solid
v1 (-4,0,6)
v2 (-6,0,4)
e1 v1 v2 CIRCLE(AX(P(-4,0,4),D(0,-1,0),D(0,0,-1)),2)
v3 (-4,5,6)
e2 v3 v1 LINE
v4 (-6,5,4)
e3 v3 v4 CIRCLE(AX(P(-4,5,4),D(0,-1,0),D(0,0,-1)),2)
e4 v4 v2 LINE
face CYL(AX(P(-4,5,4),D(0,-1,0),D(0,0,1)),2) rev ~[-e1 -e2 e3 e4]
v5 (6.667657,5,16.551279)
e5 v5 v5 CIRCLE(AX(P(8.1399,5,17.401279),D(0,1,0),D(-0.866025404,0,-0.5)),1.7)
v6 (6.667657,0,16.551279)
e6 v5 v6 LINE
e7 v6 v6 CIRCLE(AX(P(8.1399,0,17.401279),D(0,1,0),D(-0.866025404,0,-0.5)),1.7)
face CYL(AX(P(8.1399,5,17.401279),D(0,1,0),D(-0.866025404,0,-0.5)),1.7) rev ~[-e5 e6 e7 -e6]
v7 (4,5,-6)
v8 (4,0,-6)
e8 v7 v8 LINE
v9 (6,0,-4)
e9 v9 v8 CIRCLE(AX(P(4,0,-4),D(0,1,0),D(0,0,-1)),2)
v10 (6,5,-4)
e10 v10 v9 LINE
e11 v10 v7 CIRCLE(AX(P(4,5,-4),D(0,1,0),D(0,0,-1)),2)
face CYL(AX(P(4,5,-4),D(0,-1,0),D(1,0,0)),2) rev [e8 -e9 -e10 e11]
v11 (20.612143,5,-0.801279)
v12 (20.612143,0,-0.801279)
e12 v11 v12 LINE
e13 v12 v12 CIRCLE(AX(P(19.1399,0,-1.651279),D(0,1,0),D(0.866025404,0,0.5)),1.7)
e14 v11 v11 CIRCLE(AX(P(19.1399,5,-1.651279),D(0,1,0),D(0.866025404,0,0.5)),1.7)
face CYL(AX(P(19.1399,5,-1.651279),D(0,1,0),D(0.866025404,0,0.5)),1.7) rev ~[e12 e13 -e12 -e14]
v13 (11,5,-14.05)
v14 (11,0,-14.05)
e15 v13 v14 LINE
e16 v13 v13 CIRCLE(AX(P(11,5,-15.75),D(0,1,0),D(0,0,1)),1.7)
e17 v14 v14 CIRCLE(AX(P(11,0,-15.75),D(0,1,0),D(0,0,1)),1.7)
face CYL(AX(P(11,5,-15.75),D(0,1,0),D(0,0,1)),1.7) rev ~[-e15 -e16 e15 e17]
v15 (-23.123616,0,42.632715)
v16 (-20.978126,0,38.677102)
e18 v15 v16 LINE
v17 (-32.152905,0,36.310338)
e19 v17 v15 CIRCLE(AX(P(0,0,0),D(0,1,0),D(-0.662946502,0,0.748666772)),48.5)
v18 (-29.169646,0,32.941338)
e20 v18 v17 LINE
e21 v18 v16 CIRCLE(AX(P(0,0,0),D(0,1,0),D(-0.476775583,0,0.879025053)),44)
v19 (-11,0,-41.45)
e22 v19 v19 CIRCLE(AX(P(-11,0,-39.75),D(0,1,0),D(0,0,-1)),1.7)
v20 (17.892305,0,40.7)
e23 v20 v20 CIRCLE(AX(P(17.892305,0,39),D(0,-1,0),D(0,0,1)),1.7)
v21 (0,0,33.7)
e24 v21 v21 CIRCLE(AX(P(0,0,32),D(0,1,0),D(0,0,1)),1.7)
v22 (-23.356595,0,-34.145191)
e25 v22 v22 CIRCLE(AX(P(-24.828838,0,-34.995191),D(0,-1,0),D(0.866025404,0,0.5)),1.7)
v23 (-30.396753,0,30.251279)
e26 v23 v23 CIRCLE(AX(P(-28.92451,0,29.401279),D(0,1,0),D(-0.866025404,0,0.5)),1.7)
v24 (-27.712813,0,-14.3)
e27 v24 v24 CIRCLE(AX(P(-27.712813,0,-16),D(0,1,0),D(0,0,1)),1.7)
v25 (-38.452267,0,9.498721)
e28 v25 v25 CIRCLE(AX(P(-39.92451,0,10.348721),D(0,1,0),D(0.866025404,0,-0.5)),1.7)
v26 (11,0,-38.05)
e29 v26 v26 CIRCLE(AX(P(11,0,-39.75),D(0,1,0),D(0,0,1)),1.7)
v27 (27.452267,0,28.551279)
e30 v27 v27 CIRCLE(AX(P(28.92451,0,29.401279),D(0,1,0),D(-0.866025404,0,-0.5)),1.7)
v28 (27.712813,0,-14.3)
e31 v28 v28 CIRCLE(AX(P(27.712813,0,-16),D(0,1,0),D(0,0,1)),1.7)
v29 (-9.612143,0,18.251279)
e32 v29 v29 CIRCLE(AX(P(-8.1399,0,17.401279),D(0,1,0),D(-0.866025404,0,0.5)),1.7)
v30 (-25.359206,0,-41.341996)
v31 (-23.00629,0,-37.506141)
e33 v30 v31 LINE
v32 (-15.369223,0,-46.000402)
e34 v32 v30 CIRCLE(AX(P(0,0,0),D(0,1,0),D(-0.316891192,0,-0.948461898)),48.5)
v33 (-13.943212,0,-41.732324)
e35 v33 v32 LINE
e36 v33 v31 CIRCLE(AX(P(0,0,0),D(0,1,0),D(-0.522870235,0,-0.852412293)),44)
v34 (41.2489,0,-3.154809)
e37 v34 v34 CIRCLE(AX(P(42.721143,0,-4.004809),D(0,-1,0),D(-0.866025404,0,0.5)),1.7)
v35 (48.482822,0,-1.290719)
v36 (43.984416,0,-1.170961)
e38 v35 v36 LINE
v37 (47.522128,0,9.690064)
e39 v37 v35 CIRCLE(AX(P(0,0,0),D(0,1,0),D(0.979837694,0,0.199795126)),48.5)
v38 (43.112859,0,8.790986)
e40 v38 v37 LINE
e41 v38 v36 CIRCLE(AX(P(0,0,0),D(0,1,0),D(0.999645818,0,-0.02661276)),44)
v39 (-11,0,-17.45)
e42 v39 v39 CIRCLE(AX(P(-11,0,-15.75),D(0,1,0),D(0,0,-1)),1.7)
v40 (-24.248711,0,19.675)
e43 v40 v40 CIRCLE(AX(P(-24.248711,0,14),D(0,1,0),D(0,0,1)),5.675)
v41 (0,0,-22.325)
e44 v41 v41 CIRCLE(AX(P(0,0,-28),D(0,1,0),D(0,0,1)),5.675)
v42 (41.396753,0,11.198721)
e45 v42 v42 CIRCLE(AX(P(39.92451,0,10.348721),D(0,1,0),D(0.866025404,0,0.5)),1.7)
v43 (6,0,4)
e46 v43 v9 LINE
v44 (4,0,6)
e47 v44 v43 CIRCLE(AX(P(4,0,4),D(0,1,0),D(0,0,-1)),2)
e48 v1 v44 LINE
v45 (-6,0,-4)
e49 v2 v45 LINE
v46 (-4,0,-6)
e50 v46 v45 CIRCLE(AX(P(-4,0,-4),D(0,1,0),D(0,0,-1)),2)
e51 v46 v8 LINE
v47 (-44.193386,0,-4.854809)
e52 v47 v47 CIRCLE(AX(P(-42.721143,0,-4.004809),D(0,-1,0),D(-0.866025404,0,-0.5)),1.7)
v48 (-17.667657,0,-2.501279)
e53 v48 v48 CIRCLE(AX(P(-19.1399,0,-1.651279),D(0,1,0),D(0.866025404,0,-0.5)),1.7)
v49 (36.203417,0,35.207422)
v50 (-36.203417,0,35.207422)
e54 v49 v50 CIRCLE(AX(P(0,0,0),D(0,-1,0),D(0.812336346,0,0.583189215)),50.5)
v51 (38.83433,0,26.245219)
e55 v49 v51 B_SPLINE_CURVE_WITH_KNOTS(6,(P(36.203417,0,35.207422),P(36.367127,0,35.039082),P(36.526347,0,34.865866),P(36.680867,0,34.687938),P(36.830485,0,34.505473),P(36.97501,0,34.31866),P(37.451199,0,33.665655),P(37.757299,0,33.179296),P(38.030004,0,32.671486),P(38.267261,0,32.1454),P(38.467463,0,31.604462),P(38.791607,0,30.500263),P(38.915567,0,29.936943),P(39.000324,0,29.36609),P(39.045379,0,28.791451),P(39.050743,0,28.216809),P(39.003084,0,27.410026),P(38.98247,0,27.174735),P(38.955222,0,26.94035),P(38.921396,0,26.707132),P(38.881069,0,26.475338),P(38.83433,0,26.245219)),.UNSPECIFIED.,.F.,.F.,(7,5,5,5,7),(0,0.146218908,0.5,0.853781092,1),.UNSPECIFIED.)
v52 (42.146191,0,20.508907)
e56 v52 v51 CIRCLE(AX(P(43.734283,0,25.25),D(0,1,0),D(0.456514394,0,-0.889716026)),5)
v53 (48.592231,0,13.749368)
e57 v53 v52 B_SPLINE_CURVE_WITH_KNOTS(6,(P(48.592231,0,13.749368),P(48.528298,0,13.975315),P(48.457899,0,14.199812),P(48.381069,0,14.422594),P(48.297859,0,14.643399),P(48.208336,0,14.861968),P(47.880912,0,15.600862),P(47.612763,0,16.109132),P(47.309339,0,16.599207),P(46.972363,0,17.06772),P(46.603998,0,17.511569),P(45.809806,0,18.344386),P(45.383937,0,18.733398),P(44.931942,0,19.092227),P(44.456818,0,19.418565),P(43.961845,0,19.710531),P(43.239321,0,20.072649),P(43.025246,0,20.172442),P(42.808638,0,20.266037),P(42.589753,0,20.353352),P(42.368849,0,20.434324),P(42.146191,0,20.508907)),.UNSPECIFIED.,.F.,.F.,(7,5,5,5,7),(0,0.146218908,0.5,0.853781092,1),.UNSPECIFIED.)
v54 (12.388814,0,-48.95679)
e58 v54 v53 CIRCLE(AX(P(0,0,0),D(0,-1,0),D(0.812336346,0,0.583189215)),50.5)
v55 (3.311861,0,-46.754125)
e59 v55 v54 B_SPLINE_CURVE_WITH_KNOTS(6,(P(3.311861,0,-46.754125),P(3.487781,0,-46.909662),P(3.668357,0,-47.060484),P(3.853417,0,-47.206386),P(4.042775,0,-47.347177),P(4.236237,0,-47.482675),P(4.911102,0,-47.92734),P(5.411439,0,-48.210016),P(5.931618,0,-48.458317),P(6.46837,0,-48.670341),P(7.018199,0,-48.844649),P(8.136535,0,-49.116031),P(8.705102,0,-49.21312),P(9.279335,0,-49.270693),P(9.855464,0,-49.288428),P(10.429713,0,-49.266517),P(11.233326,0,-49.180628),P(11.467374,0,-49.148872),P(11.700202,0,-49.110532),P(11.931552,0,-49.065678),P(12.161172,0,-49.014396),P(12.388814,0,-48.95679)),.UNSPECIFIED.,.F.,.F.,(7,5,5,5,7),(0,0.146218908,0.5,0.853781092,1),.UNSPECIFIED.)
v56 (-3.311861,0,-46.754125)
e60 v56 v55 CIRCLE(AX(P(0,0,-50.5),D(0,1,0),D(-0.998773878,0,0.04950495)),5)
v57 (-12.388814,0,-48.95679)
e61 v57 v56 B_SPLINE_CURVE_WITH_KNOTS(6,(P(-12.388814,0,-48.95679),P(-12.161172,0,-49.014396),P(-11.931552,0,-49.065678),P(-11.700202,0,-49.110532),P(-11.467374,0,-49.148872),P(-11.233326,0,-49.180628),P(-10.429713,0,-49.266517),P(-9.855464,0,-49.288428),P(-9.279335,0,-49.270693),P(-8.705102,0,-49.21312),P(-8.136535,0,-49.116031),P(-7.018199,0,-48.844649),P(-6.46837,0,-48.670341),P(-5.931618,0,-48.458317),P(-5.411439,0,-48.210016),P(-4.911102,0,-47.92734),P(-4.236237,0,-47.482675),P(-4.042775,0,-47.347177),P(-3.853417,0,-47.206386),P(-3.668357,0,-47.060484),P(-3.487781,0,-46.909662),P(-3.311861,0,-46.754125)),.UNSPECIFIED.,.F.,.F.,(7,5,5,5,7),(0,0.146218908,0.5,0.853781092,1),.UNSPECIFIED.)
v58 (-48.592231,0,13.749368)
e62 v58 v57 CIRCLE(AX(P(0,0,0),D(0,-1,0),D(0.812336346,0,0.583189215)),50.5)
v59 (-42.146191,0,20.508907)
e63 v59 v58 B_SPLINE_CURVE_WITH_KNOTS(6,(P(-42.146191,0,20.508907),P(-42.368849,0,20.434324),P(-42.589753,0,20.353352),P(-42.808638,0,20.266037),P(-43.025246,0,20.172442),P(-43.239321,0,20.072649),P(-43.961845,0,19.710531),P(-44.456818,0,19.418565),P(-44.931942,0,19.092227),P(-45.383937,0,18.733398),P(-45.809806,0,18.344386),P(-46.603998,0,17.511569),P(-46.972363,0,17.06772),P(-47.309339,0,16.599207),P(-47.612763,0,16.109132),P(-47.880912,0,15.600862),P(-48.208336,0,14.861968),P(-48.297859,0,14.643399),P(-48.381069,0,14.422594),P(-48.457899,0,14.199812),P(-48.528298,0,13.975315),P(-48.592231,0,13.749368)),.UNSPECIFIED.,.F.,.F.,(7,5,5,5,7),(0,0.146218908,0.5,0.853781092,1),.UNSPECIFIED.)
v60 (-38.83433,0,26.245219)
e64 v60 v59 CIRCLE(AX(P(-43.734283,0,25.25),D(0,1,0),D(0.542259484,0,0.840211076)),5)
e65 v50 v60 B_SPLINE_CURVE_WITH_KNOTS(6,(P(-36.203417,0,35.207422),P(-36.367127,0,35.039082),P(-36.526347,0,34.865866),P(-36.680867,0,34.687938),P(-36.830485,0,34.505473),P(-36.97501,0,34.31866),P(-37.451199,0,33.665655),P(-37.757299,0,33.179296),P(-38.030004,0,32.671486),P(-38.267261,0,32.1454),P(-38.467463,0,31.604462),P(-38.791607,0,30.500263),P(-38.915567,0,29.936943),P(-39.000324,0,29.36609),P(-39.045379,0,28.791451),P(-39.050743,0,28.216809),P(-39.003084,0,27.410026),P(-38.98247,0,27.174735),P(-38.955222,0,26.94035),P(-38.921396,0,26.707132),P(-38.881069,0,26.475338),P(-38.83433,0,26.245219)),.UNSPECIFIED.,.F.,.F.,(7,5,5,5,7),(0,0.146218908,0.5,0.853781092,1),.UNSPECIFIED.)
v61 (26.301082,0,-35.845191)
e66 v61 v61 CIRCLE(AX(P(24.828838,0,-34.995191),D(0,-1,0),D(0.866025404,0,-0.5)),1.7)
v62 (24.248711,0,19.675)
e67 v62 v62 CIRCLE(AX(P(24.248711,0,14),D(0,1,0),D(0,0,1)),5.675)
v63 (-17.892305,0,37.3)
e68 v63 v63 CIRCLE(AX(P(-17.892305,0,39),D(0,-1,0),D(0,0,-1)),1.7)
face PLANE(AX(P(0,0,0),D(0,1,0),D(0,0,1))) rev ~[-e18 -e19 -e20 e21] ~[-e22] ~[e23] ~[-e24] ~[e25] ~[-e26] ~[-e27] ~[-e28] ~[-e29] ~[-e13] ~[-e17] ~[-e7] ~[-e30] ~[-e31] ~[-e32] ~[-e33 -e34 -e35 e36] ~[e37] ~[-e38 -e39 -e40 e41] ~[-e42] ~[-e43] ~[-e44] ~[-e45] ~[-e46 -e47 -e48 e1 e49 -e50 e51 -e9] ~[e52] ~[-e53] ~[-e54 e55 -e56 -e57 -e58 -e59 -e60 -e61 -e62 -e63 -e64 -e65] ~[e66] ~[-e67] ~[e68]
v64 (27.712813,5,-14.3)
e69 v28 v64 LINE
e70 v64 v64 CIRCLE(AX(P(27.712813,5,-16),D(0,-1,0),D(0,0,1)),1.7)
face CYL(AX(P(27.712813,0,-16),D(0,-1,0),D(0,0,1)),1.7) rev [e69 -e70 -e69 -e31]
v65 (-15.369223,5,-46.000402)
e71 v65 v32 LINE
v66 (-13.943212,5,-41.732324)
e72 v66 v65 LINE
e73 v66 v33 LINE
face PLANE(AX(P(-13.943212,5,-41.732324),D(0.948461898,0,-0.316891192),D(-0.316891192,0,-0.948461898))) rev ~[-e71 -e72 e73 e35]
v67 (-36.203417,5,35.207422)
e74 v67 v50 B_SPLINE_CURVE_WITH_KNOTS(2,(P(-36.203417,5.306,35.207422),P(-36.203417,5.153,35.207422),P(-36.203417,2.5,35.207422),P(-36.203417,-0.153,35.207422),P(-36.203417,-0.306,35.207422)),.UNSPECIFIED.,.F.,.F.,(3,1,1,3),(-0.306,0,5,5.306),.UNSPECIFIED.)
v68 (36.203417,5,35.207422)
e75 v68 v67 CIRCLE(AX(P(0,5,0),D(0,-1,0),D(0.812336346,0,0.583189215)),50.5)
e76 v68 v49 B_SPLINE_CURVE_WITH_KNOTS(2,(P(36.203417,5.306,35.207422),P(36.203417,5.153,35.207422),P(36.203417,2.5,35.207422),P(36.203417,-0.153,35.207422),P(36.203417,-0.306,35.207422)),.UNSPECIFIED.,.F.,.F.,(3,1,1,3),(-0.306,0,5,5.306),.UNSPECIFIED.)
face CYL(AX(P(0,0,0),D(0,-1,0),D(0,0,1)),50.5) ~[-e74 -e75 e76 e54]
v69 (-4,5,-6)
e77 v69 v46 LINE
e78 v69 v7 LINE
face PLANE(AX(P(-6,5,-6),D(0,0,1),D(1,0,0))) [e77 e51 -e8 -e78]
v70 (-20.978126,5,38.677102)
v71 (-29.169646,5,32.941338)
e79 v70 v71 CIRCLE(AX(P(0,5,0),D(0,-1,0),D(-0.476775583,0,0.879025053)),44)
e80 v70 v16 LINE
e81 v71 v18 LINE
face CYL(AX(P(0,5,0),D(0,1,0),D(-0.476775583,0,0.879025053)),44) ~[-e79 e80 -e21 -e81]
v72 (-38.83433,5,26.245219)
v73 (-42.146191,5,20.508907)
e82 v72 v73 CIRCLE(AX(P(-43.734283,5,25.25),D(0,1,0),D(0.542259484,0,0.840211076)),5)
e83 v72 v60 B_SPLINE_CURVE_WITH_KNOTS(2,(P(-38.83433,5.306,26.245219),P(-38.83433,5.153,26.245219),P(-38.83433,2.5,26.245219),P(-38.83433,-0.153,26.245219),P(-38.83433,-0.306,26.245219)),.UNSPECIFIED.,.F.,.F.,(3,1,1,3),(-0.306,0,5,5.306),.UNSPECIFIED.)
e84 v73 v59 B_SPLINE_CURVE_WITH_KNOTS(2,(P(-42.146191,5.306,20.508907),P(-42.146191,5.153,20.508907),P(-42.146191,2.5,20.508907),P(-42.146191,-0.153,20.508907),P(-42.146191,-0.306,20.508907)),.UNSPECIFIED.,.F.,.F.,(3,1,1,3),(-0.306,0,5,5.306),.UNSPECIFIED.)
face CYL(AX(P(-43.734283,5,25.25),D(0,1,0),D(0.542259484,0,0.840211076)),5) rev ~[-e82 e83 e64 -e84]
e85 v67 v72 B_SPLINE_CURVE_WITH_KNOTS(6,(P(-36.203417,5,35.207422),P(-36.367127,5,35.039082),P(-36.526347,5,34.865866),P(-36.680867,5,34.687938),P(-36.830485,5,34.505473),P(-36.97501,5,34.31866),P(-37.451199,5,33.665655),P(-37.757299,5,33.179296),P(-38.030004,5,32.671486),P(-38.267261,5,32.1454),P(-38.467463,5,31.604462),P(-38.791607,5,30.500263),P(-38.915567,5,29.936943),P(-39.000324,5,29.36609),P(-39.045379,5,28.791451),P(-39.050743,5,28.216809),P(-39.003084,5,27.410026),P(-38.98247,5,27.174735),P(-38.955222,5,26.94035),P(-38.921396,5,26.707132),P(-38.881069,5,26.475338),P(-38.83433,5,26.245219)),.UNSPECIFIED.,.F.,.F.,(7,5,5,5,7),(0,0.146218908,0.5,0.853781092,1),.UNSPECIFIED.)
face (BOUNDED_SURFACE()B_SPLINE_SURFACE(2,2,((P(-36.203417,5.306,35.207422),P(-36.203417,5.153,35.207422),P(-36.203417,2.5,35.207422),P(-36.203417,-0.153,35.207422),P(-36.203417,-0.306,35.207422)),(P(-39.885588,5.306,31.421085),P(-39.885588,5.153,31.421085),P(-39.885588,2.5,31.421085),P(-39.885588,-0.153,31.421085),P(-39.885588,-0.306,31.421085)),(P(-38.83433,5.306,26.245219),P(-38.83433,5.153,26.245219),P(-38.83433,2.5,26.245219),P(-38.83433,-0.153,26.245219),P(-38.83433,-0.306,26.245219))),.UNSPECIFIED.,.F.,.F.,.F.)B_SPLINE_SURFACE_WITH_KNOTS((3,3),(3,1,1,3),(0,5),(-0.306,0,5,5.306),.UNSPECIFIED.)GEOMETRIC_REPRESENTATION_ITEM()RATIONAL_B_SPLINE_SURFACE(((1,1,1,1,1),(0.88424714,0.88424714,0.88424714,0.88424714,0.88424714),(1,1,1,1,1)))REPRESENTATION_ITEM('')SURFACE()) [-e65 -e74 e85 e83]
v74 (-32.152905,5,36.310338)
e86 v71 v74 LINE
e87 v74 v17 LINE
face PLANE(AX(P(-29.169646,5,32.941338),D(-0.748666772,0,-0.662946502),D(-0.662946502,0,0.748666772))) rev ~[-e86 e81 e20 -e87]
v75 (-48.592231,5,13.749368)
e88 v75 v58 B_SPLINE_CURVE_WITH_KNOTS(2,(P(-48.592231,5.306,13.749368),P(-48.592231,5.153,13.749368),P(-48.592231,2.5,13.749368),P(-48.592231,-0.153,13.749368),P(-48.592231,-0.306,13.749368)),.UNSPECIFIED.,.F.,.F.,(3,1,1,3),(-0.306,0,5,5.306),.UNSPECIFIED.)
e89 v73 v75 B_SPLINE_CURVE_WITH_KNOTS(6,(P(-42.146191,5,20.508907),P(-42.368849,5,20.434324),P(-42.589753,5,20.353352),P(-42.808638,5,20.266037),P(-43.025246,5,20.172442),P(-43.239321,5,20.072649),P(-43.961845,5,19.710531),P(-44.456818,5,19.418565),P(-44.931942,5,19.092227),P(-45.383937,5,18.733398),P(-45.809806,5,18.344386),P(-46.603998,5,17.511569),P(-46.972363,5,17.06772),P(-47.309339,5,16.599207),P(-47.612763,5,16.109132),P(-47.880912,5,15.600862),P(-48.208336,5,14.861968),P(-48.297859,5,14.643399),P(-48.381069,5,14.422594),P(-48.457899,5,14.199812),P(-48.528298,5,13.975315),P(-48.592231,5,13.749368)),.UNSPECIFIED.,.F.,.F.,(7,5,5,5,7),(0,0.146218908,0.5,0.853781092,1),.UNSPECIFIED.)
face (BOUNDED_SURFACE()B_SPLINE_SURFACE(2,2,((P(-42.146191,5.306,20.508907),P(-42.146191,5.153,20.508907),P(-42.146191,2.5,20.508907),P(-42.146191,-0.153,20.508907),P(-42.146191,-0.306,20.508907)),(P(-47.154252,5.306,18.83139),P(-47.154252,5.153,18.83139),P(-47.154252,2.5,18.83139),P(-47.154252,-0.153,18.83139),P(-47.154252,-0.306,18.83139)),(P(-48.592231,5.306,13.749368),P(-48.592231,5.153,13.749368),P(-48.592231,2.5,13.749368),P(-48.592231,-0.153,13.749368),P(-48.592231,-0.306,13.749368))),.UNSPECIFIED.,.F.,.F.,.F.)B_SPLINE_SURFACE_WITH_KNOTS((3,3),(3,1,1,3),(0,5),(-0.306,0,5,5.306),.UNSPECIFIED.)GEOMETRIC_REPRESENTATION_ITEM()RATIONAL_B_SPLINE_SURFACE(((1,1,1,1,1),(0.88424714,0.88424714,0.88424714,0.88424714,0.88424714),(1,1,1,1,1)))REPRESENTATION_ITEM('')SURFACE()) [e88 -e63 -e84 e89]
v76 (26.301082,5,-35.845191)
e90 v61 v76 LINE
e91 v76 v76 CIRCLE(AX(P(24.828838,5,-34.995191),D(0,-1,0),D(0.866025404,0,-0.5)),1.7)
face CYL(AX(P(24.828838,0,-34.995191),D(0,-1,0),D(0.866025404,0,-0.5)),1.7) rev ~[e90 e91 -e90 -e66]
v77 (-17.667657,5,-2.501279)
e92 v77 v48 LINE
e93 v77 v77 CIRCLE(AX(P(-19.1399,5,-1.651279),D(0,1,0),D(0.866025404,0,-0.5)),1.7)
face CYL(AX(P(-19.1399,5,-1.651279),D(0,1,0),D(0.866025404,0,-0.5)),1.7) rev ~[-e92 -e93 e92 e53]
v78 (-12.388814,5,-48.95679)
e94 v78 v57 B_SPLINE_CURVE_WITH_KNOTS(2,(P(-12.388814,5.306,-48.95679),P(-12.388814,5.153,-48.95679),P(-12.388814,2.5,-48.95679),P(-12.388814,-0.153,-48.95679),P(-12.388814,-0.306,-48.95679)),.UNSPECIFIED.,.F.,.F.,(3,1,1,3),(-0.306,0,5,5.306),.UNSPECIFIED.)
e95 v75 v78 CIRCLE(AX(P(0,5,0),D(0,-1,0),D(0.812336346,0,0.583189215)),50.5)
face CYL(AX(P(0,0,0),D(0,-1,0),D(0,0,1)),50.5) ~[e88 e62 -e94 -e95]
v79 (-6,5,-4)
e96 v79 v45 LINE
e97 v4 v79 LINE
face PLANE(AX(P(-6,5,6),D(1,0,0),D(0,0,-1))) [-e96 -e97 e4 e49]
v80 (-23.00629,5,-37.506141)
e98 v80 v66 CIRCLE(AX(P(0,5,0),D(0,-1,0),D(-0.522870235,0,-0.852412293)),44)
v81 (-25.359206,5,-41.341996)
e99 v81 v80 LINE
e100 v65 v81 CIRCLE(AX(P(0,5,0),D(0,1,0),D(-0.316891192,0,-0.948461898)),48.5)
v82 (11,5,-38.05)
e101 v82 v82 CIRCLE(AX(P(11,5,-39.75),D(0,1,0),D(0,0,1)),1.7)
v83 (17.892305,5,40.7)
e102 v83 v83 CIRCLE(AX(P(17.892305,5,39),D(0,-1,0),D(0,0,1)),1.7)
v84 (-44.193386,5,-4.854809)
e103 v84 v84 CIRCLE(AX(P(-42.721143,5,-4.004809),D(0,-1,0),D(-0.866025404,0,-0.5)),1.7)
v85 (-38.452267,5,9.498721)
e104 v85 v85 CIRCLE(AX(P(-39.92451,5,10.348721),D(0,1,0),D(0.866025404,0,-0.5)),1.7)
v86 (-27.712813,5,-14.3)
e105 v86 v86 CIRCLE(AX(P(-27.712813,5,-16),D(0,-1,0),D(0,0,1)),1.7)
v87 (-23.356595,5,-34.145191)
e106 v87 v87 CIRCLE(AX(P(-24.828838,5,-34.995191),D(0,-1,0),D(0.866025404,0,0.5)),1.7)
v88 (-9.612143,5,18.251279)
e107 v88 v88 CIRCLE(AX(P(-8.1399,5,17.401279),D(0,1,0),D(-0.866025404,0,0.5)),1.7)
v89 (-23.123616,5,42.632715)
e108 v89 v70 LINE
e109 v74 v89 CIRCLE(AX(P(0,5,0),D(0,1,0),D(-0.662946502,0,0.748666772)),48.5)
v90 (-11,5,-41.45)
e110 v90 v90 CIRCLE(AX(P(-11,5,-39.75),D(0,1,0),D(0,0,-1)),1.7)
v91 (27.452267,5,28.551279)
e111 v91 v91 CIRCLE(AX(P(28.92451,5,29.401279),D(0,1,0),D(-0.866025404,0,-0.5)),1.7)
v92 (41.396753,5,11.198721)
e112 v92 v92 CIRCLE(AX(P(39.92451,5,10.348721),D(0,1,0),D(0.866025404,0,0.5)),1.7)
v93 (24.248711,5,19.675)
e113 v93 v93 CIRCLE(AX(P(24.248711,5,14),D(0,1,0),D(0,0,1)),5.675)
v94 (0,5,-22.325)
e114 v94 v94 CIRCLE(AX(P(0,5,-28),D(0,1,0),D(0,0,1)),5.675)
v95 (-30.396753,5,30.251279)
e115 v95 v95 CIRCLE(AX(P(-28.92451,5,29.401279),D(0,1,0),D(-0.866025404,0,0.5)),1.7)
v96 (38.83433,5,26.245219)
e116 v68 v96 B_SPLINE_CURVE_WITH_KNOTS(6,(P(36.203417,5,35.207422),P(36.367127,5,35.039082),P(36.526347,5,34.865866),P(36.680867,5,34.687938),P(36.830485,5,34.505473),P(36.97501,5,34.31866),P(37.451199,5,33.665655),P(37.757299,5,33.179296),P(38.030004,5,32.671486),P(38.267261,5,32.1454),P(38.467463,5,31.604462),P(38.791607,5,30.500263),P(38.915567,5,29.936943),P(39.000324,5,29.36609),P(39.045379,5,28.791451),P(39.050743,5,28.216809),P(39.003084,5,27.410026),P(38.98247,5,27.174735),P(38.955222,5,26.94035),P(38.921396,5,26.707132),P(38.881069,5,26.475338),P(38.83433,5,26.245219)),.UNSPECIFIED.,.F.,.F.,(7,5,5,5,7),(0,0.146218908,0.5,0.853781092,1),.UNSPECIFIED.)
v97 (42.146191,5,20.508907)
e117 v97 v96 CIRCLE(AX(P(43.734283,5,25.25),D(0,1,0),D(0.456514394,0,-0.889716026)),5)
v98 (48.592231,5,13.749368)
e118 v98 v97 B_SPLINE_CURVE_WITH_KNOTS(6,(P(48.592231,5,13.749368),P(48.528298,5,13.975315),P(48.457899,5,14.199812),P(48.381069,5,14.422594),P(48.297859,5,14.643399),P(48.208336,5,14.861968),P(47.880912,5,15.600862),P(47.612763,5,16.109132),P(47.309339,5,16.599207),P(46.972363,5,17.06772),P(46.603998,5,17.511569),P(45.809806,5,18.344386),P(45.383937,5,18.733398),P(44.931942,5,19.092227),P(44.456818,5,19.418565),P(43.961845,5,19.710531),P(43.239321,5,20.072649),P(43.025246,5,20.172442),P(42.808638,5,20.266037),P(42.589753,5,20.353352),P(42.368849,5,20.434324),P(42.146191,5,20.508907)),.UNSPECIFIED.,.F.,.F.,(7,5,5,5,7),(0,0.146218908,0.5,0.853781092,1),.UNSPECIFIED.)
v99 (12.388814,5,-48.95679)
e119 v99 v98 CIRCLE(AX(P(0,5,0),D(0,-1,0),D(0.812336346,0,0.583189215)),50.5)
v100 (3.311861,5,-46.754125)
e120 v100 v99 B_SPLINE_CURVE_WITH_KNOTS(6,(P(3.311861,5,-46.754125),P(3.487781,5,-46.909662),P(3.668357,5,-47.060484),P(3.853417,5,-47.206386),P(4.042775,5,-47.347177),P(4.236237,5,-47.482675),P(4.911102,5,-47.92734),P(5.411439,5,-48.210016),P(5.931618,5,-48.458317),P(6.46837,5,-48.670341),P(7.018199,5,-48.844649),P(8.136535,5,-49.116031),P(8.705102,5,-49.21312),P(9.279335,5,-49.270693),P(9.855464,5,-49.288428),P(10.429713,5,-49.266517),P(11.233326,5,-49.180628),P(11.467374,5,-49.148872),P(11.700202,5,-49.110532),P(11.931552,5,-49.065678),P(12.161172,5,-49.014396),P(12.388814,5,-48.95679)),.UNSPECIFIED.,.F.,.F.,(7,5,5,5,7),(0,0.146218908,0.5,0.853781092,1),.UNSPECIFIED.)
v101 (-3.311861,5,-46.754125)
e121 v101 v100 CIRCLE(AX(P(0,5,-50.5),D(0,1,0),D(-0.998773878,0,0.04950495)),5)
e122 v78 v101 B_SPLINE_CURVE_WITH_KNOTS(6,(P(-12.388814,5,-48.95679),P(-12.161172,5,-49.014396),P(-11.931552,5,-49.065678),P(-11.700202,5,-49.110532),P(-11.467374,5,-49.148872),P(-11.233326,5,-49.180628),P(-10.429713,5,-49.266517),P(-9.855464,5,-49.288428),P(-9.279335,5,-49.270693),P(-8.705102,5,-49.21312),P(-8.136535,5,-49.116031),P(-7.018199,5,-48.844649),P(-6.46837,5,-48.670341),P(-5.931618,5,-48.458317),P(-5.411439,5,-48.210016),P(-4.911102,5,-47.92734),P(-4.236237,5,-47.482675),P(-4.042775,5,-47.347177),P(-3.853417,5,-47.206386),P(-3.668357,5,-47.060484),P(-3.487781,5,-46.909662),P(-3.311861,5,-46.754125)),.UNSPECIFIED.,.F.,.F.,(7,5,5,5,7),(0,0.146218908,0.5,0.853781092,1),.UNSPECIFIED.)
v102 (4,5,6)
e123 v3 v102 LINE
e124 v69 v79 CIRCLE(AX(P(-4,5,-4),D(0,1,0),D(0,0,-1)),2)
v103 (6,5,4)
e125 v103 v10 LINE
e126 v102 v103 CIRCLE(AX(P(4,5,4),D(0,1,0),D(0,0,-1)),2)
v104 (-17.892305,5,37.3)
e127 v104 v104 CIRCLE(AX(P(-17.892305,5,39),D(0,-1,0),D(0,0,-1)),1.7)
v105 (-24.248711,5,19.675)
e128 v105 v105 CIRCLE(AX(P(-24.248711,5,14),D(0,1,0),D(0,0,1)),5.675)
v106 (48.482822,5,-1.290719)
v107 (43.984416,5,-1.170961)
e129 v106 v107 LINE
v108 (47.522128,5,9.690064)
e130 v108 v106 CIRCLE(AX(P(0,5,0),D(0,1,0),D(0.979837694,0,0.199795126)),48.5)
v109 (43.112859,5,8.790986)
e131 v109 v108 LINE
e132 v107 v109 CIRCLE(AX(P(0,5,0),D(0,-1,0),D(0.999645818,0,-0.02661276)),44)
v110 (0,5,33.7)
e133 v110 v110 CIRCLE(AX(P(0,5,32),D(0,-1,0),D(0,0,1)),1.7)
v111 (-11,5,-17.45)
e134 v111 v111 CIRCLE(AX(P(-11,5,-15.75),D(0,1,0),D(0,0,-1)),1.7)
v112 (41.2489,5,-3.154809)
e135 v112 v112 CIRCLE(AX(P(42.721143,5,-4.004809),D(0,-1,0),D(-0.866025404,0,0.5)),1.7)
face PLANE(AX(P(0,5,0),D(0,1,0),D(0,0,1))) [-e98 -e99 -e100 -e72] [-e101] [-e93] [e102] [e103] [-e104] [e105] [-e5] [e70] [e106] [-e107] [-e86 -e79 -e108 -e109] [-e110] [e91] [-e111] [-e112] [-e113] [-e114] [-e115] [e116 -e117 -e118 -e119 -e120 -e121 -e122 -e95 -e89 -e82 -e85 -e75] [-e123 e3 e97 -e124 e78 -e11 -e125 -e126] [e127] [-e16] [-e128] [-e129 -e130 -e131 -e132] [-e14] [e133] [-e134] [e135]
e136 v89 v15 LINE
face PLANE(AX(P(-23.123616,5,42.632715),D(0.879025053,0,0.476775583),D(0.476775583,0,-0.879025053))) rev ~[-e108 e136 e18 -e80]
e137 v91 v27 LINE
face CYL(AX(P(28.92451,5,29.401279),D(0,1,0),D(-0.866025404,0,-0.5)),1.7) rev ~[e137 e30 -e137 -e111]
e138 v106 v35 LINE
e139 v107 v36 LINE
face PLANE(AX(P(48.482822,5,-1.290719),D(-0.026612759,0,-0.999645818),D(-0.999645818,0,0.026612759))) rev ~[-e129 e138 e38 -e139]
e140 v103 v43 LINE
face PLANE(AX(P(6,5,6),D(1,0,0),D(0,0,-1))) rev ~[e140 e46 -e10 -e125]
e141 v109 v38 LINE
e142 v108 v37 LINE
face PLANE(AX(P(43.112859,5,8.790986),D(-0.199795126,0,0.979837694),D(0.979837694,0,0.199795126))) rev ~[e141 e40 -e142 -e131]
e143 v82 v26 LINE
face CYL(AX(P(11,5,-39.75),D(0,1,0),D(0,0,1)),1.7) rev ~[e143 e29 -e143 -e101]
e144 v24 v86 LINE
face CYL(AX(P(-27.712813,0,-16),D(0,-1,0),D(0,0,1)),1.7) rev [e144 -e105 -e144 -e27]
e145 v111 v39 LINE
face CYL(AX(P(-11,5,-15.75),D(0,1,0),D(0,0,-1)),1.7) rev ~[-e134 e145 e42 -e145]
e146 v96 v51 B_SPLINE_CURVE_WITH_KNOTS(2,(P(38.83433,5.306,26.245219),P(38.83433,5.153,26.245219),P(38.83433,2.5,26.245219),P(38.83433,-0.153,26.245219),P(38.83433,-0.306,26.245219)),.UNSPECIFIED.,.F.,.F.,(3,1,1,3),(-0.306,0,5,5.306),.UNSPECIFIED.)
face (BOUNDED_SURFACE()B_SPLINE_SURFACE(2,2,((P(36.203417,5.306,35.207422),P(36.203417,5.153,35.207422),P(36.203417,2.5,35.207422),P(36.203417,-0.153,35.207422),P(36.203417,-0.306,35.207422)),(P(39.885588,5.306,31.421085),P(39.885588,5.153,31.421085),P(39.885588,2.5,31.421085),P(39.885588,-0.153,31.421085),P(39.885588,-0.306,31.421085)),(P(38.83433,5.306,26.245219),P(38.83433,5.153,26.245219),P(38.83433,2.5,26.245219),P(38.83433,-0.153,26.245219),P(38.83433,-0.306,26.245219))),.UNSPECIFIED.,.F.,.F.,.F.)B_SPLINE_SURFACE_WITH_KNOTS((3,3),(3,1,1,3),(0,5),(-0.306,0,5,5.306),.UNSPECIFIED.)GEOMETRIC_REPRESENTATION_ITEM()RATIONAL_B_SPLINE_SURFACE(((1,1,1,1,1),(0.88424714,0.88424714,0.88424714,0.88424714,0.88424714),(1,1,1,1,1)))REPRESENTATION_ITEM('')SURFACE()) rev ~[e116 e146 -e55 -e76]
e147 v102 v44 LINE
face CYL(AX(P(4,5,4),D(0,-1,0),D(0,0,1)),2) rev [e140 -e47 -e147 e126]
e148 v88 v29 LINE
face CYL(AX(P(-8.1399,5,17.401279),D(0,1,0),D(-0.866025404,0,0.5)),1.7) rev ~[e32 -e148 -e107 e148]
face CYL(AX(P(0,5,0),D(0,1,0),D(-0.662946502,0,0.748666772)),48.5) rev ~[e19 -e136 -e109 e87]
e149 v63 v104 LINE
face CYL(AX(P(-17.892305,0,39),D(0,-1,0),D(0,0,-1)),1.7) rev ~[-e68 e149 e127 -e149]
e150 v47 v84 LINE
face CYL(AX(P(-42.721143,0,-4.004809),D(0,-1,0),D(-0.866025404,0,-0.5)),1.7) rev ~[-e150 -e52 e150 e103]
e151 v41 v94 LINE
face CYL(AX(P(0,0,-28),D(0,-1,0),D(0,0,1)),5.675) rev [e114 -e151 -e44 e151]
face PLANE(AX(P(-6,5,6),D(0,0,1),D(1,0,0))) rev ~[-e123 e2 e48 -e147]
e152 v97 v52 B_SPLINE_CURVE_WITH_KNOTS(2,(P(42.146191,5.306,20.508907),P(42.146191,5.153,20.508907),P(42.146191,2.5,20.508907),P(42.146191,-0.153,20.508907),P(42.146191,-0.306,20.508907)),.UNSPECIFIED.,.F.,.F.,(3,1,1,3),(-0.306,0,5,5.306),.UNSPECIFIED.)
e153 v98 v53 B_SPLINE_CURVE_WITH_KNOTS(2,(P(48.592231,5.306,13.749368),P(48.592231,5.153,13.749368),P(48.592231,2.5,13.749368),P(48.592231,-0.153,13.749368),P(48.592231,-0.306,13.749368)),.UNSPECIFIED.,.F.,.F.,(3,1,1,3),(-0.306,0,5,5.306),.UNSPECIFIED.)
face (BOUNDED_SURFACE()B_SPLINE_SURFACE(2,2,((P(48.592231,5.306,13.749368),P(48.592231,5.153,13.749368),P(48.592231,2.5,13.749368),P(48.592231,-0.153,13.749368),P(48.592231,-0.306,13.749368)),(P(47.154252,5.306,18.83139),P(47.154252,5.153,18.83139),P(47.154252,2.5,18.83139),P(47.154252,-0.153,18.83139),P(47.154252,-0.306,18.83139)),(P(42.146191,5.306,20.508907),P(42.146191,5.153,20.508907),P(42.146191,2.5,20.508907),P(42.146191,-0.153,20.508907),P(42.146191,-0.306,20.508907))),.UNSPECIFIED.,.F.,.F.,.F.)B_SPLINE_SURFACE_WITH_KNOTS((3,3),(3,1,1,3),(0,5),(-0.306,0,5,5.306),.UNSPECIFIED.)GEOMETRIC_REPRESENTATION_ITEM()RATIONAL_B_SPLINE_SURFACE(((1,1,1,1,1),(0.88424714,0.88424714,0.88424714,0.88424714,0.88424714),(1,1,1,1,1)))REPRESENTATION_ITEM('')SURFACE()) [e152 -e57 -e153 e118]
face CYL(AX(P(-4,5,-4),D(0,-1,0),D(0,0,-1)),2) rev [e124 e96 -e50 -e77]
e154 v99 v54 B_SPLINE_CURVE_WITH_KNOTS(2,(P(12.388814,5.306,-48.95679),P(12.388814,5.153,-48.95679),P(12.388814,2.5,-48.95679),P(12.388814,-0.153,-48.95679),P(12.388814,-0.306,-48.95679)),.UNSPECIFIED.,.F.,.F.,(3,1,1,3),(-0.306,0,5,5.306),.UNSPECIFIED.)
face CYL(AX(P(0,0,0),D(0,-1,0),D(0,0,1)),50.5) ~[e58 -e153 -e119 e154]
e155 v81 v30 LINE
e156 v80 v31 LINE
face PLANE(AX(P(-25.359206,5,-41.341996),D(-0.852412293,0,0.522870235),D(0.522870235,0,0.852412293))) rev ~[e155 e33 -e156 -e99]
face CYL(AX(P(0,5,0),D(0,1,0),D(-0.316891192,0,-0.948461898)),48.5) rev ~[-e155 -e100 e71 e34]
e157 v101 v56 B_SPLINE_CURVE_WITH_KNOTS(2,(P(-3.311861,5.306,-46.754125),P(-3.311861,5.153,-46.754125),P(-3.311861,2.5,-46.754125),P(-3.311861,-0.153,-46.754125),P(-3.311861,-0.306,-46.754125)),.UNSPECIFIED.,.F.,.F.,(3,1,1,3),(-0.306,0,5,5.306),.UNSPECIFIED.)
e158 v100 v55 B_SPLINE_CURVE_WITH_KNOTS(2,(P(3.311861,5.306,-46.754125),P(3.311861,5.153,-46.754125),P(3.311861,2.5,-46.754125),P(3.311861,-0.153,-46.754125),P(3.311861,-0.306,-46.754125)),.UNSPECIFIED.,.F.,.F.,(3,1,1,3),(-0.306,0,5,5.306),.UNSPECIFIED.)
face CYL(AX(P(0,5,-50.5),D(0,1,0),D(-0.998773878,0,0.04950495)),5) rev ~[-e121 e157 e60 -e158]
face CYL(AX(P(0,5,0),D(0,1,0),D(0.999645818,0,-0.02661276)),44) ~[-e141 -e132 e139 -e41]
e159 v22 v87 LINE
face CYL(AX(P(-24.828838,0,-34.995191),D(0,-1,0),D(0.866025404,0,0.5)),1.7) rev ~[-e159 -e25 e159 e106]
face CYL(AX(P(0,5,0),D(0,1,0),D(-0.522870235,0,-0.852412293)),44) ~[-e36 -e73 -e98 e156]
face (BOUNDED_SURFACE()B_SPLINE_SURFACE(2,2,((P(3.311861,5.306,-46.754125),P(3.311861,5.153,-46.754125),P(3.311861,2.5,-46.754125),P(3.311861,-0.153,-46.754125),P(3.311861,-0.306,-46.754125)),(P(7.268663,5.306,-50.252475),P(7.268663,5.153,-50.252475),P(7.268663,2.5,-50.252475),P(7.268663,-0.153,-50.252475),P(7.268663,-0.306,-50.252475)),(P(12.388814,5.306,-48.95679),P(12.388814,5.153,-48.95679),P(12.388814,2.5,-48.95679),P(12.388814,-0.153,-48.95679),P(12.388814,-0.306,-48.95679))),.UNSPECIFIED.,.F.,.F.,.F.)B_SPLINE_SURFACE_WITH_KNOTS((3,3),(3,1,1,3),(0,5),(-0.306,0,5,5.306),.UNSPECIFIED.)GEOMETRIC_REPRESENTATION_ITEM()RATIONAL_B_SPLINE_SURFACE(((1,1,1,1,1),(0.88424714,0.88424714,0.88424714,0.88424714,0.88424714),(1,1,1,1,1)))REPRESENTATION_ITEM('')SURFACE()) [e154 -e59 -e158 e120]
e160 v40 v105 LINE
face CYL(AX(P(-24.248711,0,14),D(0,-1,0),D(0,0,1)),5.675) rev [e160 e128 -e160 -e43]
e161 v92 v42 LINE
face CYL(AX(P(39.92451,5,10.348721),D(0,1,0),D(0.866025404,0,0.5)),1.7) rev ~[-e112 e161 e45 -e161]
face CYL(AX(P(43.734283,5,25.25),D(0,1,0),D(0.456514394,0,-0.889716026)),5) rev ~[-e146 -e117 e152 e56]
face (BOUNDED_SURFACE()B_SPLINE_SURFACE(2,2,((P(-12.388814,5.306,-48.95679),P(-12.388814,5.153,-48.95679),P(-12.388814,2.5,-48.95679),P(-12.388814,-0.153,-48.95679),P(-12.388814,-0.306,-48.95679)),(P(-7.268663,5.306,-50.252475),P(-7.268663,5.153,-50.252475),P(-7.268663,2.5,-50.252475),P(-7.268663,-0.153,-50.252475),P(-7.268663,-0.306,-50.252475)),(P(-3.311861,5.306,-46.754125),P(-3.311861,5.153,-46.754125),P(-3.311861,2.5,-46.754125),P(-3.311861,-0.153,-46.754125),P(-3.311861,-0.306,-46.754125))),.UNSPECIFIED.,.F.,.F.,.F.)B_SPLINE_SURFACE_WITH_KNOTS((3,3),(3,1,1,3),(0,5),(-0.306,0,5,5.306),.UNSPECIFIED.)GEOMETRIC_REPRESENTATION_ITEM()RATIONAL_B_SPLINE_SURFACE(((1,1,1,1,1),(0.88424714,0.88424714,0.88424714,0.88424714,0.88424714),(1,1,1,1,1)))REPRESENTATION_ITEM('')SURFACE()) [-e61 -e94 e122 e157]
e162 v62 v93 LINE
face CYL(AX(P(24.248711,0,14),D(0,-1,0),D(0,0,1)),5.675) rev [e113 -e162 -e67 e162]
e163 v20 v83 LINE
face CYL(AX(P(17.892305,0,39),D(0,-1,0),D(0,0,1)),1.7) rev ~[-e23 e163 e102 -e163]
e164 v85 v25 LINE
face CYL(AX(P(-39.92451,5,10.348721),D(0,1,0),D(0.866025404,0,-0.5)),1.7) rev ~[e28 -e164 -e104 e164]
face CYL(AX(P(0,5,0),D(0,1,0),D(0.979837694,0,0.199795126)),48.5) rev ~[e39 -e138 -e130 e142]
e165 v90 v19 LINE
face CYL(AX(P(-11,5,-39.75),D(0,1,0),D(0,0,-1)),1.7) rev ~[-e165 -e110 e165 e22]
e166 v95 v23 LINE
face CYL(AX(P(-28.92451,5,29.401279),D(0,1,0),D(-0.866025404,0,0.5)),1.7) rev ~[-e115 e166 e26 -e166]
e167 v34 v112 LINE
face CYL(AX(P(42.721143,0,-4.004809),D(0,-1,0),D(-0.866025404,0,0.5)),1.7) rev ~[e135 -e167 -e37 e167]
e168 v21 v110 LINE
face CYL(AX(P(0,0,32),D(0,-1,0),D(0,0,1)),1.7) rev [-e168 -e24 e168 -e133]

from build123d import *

# Parameters (mm, degrees)
SKETCH1_R                = 50.5
SKETCH1_R_2              = 5.675
BOSS_EXTRUDE1_DEPTH      = 5
SKETCH4_R                = 1.7
CUT_EXTRUDE5_DEPTH       = 72.592597383
SKETCH8_R                = 1.7
CUT_EXTRUDE9_DEPTH       = 72.592597383
SKETCH9_R                = 1.7
CUT_EXTRUDE10_DEPTH      = 72.592597383
CIRPATTERN3_COUNT        = 3
CUT_EXTRUDE11_DEPTH      = 72.592597383
CIRPATTERN4_COUNT        = 3
SKETCH11_W               = 12
SKETCH11_H               = 12
CUT_EXTRUDE12_DEPTH      = 72.592597383
FILLET1_R                = 2
CUT_EXTRUDE13_DEPTH      = 72.592597383
FILLET2_R                = 10
CIRPATTERN5_COUNT        = 3
FILLET2_OF_CIRPATTERN5_R = 10


with BuildPart() as part:
    # Sketch1 → Boss-Extrude1 (new body)
    with BuildSketch(Plane(origin=(0, 0, 0), x_dir=(1, 0, 0), z_dir=(0, 1, 0))):
        with Locations(Location((0, 0, 0), (0, 0, 270))):
            Circle(SKETCH1_R)
        with Locations(Location((0, 28, 0), (0, 0, 270))):
            Circle(SKETCH1_R_2, mode=Mode.SUBTRACT)
        with Locations(Location((24.248711306, -14, 0), (0, 0, 270))):
            Circle(SKETCH1_R_2, mode=Mode.SUBTRACT)
        with Locations(Location((-24.248711306, -14, 0), (0, 0, 270))):
            Circle(SKETCH1_R_2, mode=Mode.SUBTRACT)
    extrude(amount=BOSS_EXTRUDE1_DEPTH)

    # Sketch4 → Cut-Extrude5 (cut, through all)
    with BuildSketch(Plane(origin=(0, 0, 0), x_dir=(1, 0, 0), z_dir=(0, 1, 0))):
        with Locations(Location((27.712812921, 16, 0), (0, 0, 270))):
            Circle(SKETCH4_R)
        with Locations(Location((0, -32, 0), (0, 0, 270))):
            Circle(SKETCH4_R)
        with Locations(Location((-27.712812921, 16, 0), (0, 0, 270))):
            Circle(SKETCH4_R)
    extrude(amount=CUT_EXTRUDE5_DEPTH, mode=Mode.SUBTRACT)

    # Sketch8 → Cut-Extrude9 (cut, through all)
    with BuildSketch(Plane(origin=(0, 5, 0), x_dir=(1, 0, 0), z_dir=(0, 1, 0))):
        with Locations(Location((11, 39.75, 0), (0, 0, 270))):
            Circle(SKETCH8_R)
        with Locations(Location((11, 15.75, 0), (0, 0, 270))):
            Circle(SKETCH8_R)
        with Locations(Location((-11, 39.75, 0), (0, 0, 90))):
            Circle(SKETCH8_R)
        with Locations(Location((-11, 15.75, 0), (0, 0, 90))):
            Circle(SKETCH8_R)
    cut_extrude9 = extrude(amount=-CUT_EXTRUDE9_DEPTH, mode=Mode.SUBTRACT)

    # Sketch9 → Cut-Extrude10 (cut, through all)
    with BuildSketch(Plane.XZ):
        with Locations(Location((-17.892304845, 39, 0), (0, 0, 270))):
            Circle(SKETCH9_R)
        with Locations(Location((17.892304845, 39, 0), (0, 0, 90))):
            Circle(SKETCH9_R)
    cut_extrude10 = extrude(amount=-CUT_EXTRUDE10_DEPTH, mode=Mode.SUBTRACT)

    # CirPattern3: Cut-Extrude9, Cut-Extrude10 ×3 about axis
    cirpattern3_axis = Axis((0, 0, 0), (0, 1, 0))
    add([cut_extrude9.rotate(cirpattern3_axis, i * 360 / CIRPATTERN3_COUNT) for i in range(1, CIRPATTERN3_COUNT)], mode=Mode.SUBTRACT)
    add([cut_extrude10.rotate(cirpattern3_axis, i * 360 / CIRPATTERN3_COUNT) for i in range(1, CIRPATTERN3_COUNT)], mode=Mode.SUBTRACT)

    # Sketch10 → Cut-Extrude11 (cut, through all)
    with BuildSketch(Plane(origin=(0, 5, 0), x_dir=(1, 0, 0), z_dir=(0, 1, 0))):
        with BuildLine():
            Line((-13.943212455, 41.732323521), (-15.36922282, 46.000402062))
            ThreePointArc((-15.36922282, 46.000402062), (-20.496985694, 43.955927671), (-25.359206382, 41.341996223))
            Line((-25.359206382, 41.341996223), (-23.006290326, 37.506140903))
            ThreePointArc((-23.006290326, 37.506140903), (-18.595203517, 39.87754263), (-13.943212455, 41.732323521))
        make_face()
    cut_extrude11 = extrude(amount=-CUT_EXTRUDE11_DEPTH, mode=Mode.SUBTRACT)

    # CirPattern4: Cut-Extrude11 ×3 about axis
    cirpattern4_axis = Axis((0, 0, 0), (0, 1, 0))
    for i in range(1, CIRPATTERN4_COUNT):
        add(cut_extrude11.rotate(cirpattern4_axis, i * 360 / CIRPATTERN4_COUNT), mode=Mode.SUBTRACT)

    # Sketch11 → Cut-Extrude12 (cut, through all)
    with BuildSketch(Plane(origin=(0, 5, 0), x_dir=(1, 0, 0), z_dir=(0, 1, 0))):
        Rectangle(SKETCH11_W, SKETCH11_H)
    extrude(amount=-CUT_EXTRUDE12_DEPTH, mode=Mode.SUBTRACT)

    # Fillet1
    fillet1_edges = [part.edges().sort_by_distance(p)[0] for p in [
        (6, 2.5, -6),
        (6, 2.5, 6),
        (-6, 2.5, 6),
        (-6, 2.5, -6),
    ]]
    fillet(fillet1_edges, radius=FILLET1_R)

    # Sketch12 → Cut-Extrude13 (cut, through all)
    with BuildSketch(Plane(origin=(0, 5, 0), x_dir=(1, 0, 0), z_dir=(0, 1, 0))):
        with BuildLine():
            ThreePointArc((46.016854863, -20.801419868), (39.404155872, -22.75), (41.022985472, -29.45105538))
            ThreePointArc((41.022985472, -29.45105538), (43.734282891, -25.25), (46.016854863, -20.801419868))
        make_face()
    cut_extrude13 = extrude(amount=-CUT_EXTRUDE13_DEPTH, mode=Mode.SUBTRACT)

    # Fillet2
    fillet2_edges = [part.edges().sort_by_distance(p)[0] for p in [
        (46.016854863, 2.5, 20.801419868),
        (41.022985472, 2.5, 29.45105538),
    ]]
    fillet(fillet2_edges, radius=FILLET2_R)

    # CirPattern5: Cut-Extrude13 ×3 about axis
    cirpattern5_axis = Axis((0, 0, 0), (0, 1, 0))
    for i in range(1, CIRPATTERN5_COUNT):
        add(cut_extrude13.rotate(cirpattern5_axis, i * 360 / CIRPATTERN5_COUNT), mode=Mode.SUBTRACT)

    # Fillet2 of CirPattern5
    fillet2_of_cirpattern5_edges = [part.edges().sort_by_distance(p)[0] for p in [
        (-4.993869391, 2.5, -50.252475248),
        (4.993869391, 2.5, -50.252475248),
        (-41.022985472, 2.5, 29.45105538),
        (-46.016854863, 2.5, 20.801419868),
    ]]
    fillet(fillet2_of_cirpattern5_edges, radius=FILLET2_OF_CIRPATTERN5_R)


solid = part.part
